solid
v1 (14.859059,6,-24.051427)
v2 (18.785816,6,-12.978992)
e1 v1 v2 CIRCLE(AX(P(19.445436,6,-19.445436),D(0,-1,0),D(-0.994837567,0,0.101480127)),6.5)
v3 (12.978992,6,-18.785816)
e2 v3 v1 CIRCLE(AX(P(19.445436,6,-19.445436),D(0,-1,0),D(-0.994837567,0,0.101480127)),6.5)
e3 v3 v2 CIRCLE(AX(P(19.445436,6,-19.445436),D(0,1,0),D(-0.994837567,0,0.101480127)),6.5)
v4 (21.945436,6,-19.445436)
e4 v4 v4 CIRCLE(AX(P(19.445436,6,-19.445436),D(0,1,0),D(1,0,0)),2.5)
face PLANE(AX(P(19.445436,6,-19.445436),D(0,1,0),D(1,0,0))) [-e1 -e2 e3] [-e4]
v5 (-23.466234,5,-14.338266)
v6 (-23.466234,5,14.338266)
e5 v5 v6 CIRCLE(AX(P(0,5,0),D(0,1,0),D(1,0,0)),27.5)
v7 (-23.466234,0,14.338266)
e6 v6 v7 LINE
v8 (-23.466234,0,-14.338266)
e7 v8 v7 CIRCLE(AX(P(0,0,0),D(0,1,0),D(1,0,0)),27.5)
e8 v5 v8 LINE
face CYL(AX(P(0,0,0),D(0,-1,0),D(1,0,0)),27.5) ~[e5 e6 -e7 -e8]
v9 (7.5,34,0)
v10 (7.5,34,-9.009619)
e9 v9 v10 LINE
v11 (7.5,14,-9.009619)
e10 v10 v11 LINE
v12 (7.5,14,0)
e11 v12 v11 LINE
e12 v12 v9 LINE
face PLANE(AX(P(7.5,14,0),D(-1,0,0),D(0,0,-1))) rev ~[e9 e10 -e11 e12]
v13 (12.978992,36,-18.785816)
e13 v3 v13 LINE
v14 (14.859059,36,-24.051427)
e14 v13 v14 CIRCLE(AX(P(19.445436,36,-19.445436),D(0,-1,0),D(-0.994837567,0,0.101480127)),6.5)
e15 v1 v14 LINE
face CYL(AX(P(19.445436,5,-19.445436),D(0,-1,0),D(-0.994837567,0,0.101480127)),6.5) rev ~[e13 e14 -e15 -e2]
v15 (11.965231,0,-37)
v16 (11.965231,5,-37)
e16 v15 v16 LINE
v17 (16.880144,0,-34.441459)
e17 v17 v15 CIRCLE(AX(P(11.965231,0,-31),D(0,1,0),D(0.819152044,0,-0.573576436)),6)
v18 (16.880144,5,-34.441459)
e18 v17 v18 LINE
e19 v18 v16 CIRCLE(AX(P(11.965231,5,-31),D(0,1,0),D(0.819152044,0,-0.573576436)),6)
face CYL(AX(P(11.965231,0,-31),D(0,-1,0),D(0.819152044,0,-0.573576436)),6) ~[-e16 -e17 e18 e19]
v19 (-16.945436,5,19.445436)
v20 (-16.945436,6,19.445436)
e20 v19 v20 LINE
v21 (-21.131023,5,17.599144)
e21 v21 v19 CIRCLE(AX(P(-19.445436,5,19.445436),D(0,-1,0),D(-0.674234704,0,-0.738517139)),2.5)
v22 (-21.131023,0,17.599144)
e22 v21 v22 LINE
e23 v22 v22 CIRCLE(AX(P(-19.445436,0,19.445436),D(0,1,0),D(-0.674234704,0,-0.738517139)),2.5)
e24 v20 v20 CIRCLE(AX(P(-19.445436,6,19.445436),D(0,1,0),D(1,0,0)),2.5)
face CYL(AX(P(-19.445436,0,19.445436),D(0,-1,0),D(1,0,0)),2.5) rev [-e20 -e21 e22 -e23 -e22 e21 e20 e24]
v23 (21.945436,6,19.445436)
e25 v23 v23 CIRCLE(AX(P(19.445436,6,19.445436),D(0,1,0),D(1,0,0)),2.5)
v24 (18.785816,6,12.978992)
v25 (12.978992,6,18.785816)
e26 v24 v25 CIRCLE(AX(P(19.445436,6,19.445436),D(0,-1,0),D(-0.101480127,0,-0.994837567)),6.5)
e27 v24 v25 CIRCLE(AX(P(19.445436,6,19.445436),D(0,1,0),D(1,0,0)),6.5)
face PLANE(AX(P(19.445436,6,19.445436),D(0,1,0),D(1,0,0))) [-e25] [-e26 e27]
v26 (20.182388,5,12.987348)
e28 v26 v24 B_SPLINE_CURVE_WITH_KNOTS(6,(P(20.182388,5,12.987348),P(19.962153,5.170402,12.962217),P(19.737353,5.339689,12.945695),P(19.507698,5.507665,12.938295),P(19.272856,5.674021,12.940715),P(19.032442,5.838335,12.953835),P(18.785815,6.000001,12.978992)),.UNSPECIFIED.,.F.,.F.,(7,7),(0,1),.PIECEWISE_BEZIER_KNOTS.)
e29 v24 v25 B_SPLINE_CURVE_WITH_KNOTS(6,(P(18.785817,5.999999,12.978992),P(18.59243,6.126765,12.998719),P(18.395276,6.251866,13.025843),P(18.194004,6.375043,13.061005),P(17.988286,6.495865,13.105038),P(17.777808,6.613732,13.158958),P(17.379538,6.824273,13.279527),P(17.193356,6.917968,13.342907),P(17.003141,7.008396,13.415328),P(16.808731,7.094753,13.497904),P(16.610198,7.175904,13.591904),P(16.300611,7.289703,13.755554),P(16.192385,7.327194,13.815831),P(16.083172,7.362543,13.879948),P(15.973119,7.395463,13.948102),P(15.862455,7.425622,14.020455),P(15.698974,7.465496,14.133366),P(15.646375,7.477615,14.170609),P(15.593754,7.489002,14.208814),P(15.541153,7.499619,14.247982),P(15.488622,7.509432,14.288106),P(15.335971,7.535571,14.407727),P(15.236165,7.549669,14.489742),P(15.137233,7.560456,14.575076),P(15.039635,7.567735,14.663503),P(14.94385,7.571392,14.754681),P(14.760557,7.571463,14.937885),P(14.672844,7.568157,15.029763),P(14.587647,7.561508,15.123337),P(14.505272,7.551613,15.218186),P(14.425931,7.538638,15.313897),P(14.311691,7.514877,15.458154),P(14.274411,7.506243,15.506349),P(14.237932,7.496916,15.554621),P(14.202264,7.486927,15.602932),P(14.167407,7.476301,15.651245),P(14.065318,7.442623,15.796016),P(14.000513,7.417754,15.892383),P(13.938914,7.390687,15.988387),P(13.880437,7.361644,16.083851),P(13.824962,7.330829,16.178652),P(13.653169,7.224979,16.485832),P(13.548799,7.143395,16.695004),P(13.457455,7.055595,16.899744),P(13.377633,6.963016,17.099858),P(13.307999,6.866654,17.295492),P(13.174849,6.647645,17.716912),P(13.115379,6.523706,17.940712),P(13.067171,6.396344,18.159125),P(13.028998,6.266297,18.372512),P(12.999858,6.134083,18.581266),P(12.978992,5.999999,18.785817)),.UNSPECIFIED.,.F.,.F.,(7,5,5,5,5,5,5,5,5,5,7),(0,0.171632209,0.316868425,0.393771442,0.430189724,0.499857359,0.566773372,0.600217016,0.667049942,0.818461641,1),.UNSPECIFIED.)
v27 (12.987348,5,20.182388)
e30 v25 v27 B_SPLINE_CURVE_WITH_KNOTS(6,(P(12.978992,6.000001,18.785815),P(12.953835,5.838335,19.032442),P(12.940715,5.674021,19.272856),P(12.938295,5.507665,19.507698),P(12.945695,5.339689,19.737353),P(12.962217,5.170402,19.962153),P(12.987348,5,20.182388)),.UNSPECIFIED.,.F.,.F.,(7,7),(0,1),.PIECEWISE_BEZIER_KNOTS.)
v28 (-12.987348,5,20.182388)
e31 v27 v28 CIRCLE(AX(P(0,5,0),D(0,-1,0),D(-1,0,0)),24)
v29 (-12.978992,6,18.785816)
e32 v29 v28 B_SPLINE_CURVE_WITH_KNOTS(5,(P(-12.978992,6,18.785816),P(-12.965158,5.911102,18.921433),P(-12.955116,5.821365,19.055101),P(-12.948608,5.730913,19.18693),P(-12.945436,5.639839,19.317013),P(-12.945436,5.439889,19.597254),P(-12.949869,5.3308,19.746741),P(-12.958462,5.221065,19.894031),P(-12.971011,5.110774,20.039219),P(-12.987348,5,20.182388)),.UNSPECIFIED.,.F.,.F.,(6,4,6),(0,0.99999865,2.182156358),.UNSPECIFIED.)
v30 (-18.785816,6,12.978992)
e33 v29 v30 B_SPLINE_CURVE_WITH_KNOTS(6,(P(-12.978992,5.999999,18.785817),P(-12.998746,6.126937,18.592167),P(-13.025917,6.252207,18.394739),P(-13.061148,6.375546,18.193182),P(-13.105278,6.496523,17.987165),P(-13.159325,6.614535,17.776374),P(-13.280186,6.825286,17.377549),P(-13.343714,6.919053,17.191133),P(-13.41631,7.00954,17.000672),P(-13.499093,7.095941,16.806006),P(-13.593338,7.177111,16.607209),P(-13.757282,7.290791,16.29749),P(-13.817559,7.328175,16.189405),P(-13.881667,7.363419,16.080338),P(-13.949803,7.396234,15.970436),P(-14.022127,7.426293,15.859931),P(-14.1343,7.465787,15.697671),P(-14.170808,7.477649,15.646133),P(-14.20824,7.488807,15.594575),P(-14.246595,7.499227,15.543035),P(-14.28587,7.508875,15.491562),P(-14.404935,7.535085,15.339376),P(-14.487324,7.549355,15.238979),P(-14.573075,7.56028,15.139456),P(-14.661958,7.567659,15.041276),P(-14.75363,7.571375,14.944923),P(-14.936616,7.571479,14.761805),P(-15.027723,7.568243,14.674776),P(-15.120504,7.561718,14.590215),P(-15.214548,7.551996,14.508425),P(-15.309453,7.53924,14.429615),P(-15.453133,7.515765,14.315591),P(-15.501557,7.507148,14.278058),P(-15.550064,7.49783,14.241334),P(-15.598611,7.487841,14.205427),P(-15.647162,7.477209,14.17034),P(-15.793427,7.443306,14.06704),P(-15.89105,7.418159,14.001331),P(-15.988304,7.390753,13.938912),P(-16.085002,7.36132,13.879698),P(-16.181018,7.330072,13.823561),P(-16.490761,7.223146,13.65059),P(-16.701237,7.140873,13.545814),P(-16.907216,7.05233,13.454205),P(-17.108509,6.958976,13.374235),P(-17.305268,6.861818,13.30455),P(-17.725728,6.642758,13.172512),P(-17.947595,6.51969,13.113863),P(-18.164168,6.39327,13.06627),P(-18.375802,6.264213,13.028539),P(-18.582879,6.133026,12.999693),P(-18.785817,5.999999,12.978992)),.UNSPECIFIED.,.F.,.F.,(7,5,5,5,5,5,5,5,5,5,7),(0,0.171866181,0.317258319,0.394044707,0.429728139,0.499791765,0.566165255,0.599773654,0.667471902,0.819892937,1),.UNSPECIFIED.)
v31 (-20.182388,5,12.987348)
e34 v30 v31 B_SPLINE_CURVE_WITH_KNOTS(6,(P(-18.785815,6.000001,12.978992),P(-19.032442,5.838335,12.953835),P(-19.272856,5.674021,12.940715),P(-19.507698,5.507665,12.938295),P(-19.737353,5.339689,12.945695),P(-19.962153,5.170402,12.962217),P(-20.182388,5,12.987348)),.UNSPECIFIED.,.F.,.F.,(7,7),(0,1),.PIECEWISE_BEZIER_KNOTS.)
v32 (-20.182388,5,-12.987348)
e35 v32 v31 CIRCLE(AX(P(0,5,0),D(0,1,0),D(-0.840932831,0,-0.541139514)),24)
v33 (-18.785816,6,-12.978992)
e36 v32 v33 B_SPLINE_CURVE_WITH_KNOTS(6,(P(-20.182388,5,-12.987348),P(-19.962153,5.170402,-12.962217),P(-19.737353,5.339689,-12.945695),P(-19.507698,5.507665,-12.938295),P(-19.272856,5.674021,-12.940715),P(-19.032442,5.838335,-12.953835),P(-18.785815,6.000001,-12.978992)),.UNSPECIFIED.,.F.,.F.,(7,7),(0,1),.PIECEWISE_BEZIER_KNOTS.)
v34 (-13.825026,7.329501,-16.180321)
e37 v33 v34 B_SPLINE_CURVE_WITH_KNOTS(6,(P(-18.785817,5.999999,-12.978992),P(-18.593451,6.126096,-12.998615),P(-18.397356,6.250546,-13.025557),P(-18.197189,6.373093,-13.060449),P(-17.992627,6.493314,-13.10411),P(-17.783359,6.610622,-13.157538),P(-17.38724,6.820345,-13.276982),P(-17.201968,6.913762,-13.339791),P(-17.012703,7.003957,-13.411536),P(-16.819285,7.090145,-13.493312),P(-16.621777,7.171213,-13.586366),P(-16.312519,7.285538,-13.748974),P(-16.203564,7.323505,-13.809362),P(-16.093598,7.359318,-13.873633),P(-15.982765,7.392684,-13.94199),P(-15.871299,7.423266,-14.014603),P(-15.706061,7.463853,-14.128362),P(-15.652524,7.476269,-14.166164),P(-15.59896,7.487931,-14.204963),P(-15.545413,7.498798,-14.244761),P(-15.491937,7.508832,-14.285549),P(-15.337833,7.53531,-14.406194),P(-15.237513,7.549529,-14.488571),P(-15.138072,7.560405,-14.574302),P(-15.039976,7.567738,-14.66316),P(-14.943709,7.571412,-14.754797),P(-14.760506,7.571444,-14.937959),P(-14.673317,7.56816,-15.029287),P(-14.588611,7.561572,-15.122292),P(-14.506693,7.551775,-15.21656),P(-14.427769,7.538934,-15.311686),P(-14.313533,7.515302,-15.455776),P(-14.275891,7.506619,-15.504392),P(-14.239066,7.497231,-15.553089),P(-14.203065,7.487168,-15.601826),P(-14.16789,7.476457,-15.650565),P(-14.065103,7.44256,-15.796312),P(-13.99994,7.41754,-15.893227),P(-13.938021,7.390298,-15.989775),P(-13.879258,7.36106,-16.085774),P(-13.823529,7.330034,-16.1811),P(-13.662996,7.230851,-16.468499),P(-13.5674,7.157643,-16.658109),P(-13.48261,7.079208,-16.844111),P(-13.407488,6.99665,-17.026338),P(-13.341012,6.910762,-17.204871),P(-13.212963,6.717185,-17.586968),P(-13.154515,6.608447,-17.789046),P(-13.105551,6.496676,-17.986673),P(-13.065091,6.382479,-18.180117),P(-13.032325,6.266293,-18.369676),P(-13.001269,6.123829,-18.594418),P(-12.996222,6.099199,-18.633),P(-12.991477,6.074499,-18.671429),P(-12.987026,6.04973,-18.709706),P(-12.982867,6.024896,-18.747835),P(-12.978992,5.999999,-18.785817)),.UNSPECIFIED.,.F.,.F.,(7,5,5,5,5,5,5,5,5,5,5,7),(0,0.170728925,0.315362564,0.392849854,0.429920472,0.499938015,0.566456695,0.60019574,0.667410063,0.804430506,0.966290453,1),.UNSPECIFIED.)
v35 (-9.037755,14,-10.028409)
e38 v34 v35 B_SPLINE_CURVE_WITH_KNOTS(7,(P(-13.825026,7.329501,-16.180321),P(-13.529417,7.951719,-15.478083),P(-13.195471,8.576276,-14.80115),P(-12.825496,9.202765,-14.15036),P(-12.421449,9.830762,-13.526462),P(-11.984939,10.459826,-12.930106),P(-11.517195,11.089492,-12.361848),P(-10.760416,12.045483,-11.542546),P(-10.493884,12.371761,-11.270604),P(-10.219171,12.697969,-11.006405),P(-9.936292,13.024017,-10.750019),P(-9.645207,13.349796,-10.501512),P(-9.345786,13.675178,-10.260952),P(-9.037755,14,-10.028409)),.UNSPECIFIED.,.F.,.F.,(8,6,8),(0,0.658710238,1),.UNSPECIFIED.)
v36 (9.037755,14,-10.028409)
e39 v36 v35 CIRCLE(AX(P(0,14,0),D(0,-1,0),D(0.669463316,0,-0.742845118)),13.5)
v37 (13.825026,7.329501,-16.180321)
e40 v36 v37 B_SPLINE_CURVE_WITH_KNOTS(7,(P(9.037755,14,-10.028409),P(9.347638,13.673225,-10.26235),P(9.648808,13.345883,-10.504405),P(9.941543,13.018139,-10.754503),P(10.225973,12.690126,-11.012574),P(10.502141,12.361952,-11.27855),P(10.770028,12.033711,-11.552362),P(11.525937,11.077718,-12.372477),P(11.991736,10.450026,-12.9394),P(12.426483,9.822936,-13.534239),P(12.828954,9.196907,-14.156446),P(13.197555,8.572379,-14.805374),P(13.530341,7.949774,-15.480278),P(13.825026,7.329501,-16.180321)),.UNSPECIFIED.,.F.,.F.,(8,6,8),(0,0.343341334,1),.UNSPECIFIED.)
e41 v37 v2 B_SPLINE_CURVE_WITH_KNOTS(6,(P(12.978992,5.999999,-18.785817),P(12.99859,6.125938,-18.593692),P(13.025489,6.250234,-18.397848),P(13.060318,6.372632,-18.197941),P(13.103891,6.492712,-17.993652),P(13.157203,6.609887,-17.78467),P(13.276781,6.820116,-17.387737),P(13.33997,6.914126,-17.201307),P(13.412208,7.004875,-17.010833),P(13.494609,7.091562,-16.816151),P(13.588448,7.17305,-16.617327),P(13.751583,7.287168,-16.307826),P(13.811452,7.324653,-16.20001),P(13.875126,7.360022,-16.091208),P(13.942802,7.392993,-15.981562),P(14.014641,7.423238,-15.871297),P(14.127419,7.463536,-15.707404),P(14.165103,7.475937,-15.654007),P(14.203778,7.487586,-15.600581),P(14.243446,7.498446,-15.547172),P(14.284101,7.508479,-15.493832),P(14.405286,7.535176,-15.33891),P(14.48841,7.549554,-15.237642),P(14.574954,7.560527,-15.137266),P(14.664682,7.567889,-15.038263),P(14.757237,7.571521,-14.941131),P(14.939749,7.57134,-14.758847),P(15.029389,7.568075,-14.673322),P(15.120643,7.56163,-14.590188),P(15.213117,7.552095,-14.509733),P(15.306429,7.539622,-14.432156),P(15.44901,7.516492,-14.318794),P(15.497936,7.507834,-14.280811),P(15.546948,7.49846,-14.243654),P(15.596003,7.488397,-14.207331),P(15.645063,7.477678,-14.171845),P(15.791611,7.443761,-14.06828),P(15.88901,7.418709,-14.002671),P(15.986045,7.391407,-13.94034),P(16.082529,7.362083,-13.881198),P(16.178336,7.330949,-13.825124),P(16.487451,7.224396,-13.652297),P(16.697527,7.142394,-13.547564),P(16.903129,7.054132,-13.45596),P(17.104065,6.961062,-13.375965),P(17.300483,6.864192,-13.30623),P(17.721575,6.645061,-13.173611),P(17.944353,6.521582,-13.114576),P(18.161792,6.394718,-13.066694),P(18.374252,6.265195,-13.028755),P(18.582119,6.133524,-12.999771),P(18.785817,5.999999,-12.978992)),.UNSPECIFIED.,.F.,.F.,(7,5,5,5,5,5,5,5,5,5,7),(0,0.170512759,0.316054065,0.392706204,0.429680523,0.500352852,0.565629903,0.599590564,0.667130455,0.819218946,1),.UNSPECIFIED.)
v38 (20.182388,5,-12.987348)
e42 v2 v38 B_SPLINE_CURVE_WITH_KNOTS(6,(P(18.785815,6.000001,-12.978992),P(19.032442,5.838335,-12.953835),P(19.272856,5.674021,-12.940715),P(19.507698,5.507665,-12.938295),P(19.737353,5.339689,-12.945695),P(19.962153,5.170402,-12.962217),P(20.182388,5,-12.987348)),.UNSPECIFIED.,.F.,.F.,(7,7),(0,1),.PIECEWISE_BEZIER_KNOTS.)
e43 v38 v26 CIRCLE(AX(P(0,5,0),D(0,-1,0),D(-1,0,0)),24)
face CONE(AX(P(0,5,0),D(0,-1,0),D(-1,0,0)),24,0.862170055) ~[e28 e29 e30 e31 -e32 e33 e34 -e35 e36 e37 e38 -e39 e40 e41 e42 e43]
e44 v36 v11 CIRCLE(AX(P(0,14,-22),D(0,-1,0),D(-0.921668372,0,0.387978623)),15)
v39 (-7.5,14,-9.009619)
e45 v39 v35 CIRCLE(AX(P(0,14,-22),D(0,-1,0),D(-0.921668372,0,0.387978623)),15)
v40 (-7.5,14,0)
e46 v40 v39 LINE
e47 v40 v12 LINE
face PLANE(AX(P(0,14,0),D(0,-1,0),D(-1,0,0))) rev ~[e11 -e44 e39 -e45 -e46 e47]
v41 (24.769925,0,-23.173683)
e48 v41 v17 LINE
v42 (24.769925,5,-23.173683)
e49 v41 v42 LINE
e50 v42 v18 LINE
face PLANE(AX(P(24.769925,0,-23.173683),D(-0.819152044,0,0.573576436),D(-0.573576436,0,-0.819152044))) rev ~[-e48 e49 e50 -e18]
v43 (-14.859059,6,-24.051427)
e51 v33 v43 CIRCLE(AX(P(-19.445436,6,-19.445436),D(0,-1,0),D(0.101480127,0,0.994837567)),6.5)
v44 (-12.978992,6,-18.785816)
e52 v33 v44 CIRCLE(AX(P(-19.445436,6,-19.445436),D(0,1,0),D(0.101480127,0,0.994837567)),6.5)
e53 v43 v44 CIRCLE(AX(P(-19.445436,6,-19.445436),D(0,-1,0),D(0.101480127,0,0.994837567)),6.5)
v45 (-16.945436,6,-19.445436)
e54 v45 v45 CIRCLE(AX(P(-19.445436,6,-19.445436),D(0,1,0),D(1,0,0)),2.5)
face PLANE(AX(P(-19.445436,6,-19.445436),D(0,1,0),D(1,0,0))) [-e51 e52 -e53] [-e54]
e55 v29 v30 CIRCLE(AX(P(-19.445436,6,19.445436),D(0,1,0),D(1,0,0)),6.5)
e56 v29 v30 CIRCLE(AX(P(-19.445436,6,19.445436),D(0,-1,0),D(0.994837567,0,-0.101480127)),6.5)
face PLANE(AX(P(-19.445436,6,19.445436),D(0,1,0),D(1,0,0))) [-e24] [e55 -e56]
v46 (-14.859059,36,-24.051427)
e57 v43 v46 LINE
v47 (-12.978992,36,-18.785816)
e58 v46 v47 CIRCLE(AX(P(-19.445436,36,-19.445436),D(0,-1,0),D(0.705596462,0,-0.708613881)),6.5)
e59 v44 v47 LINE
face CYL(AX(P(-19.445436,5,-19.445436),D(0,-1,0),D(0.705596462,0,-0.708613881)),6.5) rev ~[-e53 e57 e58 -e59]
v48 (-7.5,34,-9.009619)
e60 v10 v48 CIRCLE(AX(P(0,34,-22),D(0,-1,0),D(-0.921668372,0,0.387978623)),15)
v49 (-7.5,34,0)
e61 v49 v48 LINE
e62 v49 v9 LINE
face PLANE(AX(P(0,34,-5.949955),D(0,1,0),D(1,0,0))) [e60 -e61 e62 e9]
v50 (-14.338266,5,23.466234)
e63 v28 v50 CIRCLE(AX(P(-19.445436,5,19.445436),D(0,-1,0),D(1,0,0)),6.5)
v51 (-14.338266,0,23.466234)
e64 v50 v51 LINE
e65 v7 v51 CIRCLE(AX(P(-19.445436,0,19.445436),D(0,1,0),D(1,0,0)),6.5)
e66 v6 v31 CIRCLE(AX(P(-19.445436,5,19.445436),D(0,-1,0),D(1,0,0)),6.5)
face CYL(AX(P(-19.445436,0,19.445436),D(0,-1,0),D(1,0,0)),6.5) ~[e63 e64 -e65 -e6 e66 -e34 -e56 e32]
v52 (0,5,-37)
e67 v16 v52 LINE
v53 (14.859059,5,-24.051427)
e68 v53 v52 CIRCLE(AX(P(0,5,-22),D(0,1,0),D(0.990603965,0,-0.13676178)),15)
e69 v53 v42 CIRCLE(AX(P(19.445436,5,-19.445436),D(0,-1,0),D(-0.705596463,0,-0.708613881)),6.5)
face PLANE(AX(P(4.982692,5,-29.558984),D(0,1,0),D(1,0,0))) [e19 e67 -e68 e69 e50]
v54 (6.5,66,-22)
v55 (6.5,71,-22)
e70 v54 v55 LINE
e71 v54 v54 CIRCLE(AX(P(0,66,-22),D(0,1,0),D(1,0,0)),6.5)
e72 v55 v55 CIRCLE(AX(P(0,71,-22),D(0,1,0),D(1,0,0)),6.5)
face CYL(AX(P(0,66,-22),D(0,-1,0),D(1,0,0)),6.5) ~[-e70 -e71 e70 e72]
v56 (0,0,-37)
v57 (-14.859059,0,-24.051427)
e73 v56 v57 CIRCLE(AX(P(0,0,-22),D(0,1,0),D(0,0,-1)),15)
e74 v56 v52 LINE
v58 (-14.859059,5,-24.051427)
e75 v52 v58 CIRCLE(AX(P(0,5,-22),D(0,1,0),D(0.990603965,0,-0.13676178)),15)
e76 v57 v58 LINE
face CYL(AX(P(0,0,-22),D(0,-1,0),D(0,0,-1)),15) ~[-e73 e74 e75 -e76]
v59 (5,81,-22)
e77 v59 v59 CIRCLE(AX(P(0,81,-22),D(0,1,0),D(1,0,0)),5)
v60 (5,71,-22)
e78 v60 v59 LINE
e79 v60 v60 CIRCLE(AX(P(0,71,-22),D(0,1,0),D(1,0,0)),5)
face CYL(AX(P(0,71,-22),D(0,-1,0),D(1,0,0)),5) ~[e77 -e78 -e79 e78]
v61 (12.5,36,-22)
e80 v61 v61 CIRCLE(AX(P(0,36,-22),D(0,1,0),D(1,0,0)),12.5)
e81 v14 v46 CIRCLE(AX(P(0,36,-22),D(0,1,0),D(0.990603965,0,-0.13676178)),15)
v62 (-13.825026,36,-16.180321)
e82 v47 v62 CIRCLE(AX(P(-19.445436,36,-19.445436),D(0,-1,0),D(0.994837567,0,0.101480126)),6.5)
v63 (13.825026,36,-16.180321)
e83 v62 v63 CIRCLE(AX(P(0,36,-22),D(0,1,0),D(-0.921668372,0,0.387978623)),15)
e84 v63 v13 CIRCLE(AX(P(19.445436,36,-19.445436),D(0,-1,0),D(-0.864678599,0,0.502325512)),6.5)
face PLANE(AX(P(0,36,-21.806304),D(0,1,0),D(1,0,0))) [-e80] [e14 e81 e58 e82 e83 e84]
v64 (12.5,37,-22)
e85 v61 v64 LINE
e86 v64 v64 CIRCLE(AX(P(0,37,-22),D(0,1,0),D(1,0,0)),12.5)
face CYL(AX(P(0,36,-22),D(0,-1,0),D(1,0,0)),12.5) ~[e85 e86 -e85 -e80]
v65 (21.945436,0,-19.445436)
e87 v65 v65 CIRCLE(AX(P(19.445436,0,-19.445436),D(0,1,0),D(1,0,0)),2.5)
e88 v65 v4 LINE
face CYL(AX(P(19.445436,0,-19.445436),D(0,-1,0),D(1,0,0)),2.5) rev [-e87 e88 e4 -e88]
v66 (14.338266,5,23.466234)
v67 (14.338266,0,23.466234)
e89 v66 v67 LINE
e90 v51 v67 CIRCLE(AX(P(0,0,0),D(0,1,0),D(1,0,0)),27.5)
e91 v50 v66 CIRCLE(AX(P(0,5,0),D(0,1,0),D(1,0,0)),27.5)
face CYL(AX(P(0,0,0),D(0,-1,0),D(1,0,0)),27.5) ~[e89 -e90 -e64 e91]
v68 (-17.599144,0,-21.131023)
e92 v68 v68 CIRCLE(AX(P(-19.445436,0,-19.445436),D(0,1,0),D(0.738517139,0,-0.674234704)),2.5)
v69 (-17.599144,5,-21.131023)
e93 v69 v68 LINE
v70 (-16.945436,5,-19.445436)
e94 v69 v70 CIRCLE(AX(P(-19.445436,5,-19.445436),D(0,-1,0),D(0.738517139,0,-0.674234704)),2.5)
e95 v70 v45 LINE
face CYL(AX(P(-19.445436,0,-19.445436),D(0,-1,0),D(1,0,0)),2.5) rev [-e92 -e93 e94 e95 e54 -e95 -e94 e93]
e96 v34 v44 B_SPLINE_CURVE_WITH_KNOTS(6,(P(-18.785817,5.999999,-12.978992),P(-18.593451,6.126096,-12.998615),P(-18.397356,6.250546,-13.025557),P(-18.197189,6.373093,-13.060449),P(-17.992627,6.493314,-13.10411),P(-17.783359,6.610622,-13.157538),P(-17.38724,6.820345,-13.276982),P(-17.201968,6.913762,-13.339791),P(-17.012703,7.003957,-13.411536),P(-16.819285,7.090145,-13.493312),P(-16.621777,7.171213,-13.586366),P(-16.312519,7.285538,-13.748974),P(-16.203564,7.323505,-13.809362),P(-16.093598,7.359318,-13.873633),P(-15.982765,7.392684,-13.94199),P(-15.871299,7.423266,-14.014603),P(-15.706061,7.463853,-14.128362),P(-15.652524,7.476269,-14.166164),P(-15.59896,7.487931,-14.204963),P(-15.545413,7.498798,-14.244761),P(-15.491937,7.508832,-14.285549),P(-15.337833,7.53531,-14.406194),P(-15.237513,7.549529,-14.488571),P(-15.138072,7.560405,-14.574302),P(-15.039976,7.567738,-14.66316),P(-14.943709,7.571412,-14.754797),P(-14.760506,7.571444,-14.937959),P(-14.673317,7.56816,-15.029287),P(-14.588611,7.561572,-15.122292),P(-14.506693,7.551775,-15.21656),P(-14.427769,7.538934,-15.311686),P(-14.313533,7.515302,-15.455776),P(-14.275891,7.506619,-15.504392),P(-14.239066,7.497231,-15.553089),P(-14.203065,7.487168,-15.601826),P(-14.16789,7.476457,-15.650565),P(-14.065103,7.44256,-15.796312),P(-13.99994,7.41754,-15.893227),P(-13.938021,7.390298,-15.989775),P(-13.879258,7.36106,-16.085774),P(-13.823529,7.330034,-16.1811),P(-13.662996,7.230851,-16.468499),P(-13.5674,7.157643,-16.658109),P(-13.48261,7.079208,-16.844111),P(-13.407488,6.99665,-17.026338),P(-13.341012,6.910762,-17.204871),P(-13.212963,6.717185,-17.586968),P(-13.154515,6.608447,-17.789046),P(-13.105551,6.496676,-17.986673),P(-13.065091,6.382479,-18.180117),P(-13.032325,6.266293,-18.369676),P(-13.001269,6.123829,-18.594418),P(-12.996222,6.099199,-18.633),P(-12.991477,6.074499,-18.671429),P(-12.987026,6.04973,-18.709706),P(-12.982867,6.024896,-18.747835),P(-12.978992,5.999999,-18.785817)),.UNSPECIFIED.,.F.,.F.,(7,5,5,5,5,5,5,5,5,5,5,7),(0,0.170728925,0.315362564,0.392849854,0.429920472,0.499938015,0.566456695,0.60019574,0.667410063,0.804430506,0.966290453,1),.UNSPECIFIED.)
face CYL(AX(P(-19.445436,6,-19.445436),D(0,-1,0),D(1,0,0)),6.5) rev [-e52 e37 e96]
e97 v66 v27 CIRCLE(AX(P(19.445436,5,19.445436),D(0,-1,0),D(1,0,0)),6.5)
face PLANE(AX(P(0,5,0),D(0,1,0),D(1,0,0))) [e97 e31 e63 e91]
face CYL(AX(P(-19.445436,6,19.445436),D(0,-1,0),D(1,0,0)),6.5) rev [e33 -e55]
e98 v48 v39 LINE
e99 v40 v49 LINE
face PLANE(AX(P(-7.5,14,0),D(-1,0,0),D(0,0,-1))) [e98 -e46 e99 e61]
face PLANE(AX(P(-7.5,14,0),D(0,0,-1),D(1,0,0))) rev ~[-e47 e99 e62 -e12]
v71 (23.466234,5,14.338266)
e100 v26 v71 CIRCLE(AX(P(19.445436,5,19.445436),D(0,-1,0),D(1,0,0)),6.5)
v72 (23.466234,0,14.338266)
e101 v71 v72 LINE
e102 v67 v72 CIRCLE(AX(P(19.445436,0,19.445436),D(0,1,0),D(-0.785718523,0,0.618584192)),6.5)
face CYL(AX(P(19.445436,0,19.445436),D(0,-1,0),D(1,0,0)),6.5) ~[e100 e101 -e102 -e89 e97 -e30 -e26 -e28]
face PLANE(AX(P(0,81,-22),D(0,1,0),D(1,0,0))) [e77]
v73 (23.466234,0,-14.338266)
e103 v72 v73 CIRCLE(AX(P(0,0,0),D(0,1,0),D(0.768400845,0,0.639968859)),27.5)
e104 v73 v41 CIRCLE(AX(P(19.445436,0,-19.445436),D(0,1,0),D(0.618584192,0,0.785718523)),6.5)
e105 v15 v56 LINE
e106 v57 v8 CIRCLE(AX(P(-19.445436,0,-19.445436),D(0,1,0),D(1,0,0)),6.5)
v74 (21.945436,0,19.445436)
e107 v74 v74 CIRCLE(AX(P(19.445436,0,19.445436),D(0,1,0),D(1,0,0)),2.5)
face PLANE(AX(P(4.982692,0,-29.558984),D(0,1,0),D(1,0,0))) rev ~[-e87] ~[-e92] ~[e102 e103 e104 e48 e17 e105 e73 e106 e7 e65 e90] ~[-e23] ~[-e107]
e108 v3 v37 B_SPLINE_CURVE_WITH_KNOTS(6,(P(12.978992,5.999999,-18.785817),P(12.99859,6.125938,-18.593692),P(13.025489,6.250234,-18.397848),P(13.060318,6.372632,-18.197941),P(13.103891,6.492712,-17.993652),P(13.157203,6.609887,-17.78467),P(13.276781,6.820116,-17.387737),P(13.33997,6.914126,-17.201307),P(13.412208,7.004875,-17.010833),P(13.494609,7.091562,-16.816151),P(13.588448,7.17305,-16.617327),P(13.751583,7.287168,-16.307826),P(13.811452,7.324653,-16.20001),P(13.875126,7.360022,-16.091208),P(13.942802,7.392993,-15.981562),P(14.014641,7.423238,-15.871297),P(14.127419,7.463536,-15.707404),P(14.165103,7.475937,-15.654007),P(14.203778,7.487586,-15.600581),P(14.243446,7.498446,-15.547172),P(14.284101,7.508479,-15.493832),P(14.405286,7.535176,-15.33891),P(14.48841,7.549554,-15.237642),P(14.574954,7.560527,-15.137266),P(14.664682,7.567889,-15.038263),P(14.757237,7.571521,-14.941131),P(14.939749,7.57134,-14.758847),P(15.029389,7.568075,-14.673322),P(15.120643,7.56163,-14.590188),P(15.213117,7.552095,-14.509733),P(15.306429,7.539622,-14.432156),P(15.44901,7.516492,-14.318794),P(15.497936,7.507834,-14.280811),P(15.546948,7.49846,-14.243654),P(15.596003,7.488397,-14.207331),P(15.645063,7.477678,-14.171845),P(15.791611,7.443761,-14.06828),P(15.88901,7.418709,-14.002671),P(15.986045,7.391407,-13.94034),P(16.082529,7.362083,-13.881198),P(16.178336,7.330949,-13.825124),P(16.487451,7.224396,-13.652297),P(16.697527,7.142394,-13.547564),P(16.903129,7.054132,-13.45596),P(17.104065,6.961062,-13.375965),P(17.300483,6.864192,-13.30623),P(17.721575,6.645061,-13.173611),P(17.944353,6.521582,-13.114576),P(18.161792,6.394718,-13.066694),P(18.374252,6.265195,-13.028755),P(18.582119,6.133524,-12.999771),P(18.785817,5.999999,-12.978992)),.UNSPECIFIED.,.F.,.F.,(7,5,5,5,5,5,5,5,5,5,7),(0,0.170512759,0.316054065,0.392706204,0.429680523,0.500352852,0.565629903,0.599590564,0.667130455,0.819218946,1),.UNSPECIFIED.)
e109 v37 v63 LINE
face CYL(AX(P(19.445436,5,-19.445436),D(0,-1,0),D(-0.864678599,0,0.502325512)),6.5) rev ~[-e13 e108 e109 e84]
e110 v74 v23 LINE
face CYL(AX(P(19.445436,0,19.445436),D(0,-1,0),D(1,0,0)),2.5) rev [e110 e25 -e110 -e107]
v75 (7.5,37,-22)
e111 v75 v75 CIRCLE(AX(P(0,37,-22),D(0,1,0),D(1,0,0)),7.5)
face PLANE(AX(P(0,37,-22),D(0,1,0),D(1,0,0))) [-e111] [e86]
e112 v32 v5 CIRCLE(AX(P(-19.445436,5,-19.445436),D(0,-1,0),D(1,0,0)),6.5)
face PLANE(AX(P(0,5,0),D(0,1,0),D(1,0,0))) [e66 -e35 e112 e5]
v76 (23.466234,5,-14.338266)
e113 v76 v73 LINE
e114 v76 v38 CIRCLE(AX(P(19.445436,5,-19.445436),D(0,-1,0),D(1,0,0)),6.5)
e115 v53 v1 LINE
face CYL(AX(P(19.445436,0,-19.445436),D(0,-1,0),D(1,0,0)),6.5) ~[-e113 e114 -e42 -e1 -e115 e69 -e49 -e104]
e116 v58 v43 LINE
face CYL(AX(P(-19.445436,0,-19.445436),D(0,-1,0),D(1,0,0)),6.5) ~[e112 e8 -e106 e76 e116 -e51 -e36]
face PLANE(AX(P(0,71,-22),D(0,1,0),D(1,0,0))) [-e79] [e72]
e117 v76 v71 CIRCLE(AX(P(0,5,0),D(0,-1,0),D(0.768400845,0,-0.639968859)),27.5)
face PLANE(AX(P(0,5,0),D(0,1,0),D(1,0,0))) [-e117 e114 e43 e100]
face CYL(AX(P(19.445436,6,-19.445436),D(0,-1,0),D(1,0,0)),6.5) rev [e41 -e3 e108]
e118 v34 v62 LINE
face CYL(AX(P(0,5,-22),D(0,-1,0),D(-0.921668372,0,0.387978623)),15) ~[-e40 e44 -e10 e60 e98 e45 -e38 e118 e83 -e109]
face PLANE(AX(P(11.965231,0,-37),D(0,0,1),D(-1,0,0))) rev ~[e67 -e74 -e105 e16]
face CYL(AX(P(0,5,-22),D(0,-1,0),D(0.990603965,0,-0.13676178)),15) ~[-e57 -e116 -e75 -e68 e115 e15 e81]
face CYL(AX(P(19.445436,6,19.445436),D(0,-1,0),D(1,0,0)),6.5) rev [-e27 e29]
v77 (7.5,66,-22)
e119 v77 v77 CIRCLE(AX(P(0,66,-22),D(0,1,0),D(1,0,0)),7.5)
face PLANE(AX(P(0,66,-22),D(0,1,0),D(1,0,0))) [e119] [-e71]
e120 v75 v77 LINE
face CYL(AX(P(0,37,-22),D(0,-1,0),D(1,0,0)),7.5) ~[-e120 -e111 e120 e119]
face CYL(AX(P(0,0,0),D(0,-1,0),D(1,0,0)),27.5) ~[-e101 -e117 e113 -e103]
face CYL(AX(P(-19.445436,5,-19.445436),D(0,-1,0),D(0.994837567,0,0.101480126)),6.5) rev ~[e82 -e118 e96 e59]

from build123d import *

# Parameters (mm, degrees)
SKETCH1_R               = 27.5
BOSS_EXTRUDE1_DEPTH     = 5
SKETCH3_R               = 2.5
CUT_EXTRUDE1_DEPTH      = 6
CUT_EXTRUDE1_DEPTH_BACK = 1
SKETCH3_3_R             = 6.5
SKETCH3_3_R_2           = 2.5
BOSS_EXTRUDE2_DEPTH     = 6
SKETCH5_R               = 6.5
CUT_EXTRUDE2_DEPTH      = 6
BOSS_EXTRUDE3_DEPTH     = 31
SKETCH7_R               = 12.5
BOSS_EXTRUDE4_DEPTH     = 1
SKETCH8_R               = 7.5
BOSS_EXTRUDE5_DEPTH     = 29
SKETCH9_R               = 6.5
BOSS_EXTRUDE6_DEPTH     = 5
SKETCH10_R              = 5
BOSS_EXTRUDE7_DEPTH     = 10
BOSS_EXTRUDE11_DEPTH    = 5
SKETCH13_W              = 15
SKETCH13_H              = 11.899909518
BOSS_EXTRUDE12_DEPTH    = 20


with BuildPart() as part:
    # Sketch1 → Boss-Extrude1 (new body)
    with BuildSketch(Plane(origin=(0, 0, 0), x_dir=(1, 0, 0), z_dir=(0, 1, 0))):
        Circle(SKETCH1_R)
    extrude(amount=BOSS_EXTRUDE1_DEPTH)

    # Sketch3 → Cut-Extrude1 (cut, two sides)
    with BuildSketch(Plane(origin=(0, 0, 0), x_dir=(1, 0, 0), z_dir=(0, 1, 0))) as cut_extrude1_sk:
        with Locations((-19.445436483, -19.445436483)):
            Circle(SKETCH3_R)
        with Locations((-19.445436483, 19.445436483)):
            Circle(SKETCH3_R)
        with Locations((19.445436483, 19.445436483)):
            Circle(SKETCH3_R)
        with Locations((19.445436483, -19.445436483)):
            Circle(SKETCH3_R)
    extrude(amount=CUT_EXTRUDE1_DEPTH, mode=Mode.SUBTRACT)
    extrude(cut_extrude1_sk.sketch, amount=-CUT_EXTRUDE1_DEPTH_BACK, mode=Mode.SUBTRACT)

    # Sketch3<3> → Boss-Extrude2 (add)
    with BuildSketch(Plane(origin=(0, 0, 0), x_dir=(1, 0, 0), z_dir=(0, 1, 0))):
        with Locations((-19.445436483, -19.445436483)):
            Circle(SKETCH3_3_R)
        with Locations((-19.445436483, -19.445436483)):
            Circle(SKETCH3_3_R_2, mode=Mode.SUBTRACT)
        with Locations((-19.445436483, 19.445436483)):
            Circle(SKETCH3_3_R)
        with Locations((-19.445436483, 19.445436483)):
            Circle(SKETCH3_3_R_2, mode=Mode.SUBTRACT)
        with Locations((19.445436483, 19.445436483)):
            Circle(SKETCH3_3_R)
        with Locations((19.445436483, 19.445436483)):
            Circle(SKETCH3_3_R_2, mode=Mode.SUBTRACT)
        with Locations((19.445436483, -19.445436483)):
            Circle(SKETCH3_3_R)
        with Locations((19.445436483, -19.445436483)):
            Circle(SKETCH3_3_R_2, mode=Mode.SUBTRACT)
    extrude(amount=BOSS_EXTRUDE2_DEPTH)

    # Sketch4 → Revolve1 (revolve)
    with BuildSketch(Plane.XY):
        Polygon((0, 5), (-24, 5), (-13.5, 14), (0, 14), align=None)
    revolve(axis=Axis((0, 14, 0), (0, -1, 0)))

    # Sketch5 → Cut-Extrude2 (cut)
    with BuildSketch(Plane(origin=(0, 6, 0), x_dir=(1, 0, 0), z_dir=(0, 1, 0))):
        with Locations((19.445436483, -19.445436483)):
            Circle(SKETCH5_R)
        with Locations((19.445436483, 19.445436483)):
            Circle(SKETCH5_R)
        with Locations((-19.445436483, 19.445436483)):
            Circle(SKETCH5_R)
        with Locations((-19.445436483, -19.445436483)):
            Circle(SKETCH5_R)
    extrude(amount=CUT_EXTRUDE2_DEPTH, mode=Mode.SUBTRACT)

    # Sketch6 → Boss-Extrude3 (add)
    with BuildSketch(Plane(origin=(0, 5, 0), x_dir=(1, 0, 0), z_dir=(0, 1, 0))):
        with BuildLine():
            ThreePointArc((14.859059475, 24.051426706), (0, 37), (-14.859059475, 24.051426706))
            ThreePointArc((-14.859059475, 24.051426706), (-13.323926947, 21.631099084), (-12.9789923, 18.78581566))
            ThreePointArc((-12.9789923, 18.78581566), (-13.26319033, 17.437992209), (-13.825025584, 16.180320661))
            ThreePointArc((-13.825025584, 16.180320661), (0, 7), (13.825025584, 16.180320661))
            ThreePointArc((13.825025584, 16.180320661), (13.26319033, 17.437992209), (12.9789923, 18.78581566))
            ThreePointArc((12.9789923, 18.78581566), (13.323926947, 21.631099084), (14.859059475, 24.051426706))
        make_face()
    extrude(amount=BOSS_EXTRUDE3_DEPTH)

    # Sketch7 → Boss-Extrude4 (add)
    with BuildSketch(Plane(origin=(0, 36, 0), x_dir=(1, 0, 0), z_dir=(0, 1, 0))):
        with Locations((0, 22)):
            Circle(SKETCH7_R)
    extrude(amount=BOSS_EXTRUDE4_DEPTH)

    # Sketch8 → Boss-Extrude5 (add)
    with BuildSketch(Plane(origin=(0, 37, 0), x_dir=(1, 0, 0), z_dir=(0, 1, 0))):
        with Locations((0, 22)):
            Circle(SKETCH8_R)
    extrude(amount=BOSS_EXTRUDE5_DEPTH)

    # Sketch9 → Boss-Extrude6 (add)
    with BuildSketch(Plane(origin=(0, 66, 0), x_dir=(1, 0, 0), z_dir=(0, 1, 0))):
        with Locations((0, 22)):
            Circle(SKETCH9_R)
    extrude(amount=BOSS_EXTRUDE6_DEPTH)

    # Sketch10 → Boss-Extrude7 (add)
    with BuildSketch(Plane(origin=(0, 71, 0), x_dir=(1, 0, 0), z_dir=(0, 1, 0))):
        with Locations((0, 22)):
            Circle(SKETCH10_R)
    extrude(amount=BOSS_EXTRUDE7_DEPTH)

    # Sketch12 → Boss-Extrude11 (add)
    with BuildSketch(Plane(origin=(0, 0, 0), x_dir=(1, 0, 0), z_dir=(0, 1, 0))):
        with BuildLine():
            Line((24.769924771, 23.173683319), (16.880143567, 34.441458618))
            ThreePointArc((16.880143567, 34.441458618), (14.735722981, 36.322064999), (11.965231301, 37))
            Line((11.965231301, 37), (0, 37))
            ThreePointArc((0, 37), (-9.854658782, 33.30865599), (-14.859059475, 24.051426706))
            ThreePointArc((-14.859059475, 24.051426706), (-14.589838885, 23.766683059), (-14.338266086, 23.466233734))
            ThreePointArc((-14.338266086, 23.466233734), (0, 27.5), (14.338266086, 23.466233734))
            ThreePointArc((14.338266086, 23.466233734), (14.589838885, 23.766683059), (14.859059475, 24.051426706))
            ThreePointArc((14.859059475, 24.051426706), (20.018856424, 25.920093969), (24.769924771, 23.173683319))
        make_face()
    extrude(amount=BOSS_EXTRUDE11_DEPTH)

    # Sketch13 → Boss-Extrude12 (add)
    with BuildSketch(Plane(origin=(0, 14, 0), x_dir=(1, 0, 0), z_dir=(0, 1, 0))):
        with Locations((0, 5.949954759)):
            Rectangle(SKETCH13_W, SKETCH13_H)
    extrude(amount=BOSS_EXTRUDE12_DEPTH)


solid = part.part
